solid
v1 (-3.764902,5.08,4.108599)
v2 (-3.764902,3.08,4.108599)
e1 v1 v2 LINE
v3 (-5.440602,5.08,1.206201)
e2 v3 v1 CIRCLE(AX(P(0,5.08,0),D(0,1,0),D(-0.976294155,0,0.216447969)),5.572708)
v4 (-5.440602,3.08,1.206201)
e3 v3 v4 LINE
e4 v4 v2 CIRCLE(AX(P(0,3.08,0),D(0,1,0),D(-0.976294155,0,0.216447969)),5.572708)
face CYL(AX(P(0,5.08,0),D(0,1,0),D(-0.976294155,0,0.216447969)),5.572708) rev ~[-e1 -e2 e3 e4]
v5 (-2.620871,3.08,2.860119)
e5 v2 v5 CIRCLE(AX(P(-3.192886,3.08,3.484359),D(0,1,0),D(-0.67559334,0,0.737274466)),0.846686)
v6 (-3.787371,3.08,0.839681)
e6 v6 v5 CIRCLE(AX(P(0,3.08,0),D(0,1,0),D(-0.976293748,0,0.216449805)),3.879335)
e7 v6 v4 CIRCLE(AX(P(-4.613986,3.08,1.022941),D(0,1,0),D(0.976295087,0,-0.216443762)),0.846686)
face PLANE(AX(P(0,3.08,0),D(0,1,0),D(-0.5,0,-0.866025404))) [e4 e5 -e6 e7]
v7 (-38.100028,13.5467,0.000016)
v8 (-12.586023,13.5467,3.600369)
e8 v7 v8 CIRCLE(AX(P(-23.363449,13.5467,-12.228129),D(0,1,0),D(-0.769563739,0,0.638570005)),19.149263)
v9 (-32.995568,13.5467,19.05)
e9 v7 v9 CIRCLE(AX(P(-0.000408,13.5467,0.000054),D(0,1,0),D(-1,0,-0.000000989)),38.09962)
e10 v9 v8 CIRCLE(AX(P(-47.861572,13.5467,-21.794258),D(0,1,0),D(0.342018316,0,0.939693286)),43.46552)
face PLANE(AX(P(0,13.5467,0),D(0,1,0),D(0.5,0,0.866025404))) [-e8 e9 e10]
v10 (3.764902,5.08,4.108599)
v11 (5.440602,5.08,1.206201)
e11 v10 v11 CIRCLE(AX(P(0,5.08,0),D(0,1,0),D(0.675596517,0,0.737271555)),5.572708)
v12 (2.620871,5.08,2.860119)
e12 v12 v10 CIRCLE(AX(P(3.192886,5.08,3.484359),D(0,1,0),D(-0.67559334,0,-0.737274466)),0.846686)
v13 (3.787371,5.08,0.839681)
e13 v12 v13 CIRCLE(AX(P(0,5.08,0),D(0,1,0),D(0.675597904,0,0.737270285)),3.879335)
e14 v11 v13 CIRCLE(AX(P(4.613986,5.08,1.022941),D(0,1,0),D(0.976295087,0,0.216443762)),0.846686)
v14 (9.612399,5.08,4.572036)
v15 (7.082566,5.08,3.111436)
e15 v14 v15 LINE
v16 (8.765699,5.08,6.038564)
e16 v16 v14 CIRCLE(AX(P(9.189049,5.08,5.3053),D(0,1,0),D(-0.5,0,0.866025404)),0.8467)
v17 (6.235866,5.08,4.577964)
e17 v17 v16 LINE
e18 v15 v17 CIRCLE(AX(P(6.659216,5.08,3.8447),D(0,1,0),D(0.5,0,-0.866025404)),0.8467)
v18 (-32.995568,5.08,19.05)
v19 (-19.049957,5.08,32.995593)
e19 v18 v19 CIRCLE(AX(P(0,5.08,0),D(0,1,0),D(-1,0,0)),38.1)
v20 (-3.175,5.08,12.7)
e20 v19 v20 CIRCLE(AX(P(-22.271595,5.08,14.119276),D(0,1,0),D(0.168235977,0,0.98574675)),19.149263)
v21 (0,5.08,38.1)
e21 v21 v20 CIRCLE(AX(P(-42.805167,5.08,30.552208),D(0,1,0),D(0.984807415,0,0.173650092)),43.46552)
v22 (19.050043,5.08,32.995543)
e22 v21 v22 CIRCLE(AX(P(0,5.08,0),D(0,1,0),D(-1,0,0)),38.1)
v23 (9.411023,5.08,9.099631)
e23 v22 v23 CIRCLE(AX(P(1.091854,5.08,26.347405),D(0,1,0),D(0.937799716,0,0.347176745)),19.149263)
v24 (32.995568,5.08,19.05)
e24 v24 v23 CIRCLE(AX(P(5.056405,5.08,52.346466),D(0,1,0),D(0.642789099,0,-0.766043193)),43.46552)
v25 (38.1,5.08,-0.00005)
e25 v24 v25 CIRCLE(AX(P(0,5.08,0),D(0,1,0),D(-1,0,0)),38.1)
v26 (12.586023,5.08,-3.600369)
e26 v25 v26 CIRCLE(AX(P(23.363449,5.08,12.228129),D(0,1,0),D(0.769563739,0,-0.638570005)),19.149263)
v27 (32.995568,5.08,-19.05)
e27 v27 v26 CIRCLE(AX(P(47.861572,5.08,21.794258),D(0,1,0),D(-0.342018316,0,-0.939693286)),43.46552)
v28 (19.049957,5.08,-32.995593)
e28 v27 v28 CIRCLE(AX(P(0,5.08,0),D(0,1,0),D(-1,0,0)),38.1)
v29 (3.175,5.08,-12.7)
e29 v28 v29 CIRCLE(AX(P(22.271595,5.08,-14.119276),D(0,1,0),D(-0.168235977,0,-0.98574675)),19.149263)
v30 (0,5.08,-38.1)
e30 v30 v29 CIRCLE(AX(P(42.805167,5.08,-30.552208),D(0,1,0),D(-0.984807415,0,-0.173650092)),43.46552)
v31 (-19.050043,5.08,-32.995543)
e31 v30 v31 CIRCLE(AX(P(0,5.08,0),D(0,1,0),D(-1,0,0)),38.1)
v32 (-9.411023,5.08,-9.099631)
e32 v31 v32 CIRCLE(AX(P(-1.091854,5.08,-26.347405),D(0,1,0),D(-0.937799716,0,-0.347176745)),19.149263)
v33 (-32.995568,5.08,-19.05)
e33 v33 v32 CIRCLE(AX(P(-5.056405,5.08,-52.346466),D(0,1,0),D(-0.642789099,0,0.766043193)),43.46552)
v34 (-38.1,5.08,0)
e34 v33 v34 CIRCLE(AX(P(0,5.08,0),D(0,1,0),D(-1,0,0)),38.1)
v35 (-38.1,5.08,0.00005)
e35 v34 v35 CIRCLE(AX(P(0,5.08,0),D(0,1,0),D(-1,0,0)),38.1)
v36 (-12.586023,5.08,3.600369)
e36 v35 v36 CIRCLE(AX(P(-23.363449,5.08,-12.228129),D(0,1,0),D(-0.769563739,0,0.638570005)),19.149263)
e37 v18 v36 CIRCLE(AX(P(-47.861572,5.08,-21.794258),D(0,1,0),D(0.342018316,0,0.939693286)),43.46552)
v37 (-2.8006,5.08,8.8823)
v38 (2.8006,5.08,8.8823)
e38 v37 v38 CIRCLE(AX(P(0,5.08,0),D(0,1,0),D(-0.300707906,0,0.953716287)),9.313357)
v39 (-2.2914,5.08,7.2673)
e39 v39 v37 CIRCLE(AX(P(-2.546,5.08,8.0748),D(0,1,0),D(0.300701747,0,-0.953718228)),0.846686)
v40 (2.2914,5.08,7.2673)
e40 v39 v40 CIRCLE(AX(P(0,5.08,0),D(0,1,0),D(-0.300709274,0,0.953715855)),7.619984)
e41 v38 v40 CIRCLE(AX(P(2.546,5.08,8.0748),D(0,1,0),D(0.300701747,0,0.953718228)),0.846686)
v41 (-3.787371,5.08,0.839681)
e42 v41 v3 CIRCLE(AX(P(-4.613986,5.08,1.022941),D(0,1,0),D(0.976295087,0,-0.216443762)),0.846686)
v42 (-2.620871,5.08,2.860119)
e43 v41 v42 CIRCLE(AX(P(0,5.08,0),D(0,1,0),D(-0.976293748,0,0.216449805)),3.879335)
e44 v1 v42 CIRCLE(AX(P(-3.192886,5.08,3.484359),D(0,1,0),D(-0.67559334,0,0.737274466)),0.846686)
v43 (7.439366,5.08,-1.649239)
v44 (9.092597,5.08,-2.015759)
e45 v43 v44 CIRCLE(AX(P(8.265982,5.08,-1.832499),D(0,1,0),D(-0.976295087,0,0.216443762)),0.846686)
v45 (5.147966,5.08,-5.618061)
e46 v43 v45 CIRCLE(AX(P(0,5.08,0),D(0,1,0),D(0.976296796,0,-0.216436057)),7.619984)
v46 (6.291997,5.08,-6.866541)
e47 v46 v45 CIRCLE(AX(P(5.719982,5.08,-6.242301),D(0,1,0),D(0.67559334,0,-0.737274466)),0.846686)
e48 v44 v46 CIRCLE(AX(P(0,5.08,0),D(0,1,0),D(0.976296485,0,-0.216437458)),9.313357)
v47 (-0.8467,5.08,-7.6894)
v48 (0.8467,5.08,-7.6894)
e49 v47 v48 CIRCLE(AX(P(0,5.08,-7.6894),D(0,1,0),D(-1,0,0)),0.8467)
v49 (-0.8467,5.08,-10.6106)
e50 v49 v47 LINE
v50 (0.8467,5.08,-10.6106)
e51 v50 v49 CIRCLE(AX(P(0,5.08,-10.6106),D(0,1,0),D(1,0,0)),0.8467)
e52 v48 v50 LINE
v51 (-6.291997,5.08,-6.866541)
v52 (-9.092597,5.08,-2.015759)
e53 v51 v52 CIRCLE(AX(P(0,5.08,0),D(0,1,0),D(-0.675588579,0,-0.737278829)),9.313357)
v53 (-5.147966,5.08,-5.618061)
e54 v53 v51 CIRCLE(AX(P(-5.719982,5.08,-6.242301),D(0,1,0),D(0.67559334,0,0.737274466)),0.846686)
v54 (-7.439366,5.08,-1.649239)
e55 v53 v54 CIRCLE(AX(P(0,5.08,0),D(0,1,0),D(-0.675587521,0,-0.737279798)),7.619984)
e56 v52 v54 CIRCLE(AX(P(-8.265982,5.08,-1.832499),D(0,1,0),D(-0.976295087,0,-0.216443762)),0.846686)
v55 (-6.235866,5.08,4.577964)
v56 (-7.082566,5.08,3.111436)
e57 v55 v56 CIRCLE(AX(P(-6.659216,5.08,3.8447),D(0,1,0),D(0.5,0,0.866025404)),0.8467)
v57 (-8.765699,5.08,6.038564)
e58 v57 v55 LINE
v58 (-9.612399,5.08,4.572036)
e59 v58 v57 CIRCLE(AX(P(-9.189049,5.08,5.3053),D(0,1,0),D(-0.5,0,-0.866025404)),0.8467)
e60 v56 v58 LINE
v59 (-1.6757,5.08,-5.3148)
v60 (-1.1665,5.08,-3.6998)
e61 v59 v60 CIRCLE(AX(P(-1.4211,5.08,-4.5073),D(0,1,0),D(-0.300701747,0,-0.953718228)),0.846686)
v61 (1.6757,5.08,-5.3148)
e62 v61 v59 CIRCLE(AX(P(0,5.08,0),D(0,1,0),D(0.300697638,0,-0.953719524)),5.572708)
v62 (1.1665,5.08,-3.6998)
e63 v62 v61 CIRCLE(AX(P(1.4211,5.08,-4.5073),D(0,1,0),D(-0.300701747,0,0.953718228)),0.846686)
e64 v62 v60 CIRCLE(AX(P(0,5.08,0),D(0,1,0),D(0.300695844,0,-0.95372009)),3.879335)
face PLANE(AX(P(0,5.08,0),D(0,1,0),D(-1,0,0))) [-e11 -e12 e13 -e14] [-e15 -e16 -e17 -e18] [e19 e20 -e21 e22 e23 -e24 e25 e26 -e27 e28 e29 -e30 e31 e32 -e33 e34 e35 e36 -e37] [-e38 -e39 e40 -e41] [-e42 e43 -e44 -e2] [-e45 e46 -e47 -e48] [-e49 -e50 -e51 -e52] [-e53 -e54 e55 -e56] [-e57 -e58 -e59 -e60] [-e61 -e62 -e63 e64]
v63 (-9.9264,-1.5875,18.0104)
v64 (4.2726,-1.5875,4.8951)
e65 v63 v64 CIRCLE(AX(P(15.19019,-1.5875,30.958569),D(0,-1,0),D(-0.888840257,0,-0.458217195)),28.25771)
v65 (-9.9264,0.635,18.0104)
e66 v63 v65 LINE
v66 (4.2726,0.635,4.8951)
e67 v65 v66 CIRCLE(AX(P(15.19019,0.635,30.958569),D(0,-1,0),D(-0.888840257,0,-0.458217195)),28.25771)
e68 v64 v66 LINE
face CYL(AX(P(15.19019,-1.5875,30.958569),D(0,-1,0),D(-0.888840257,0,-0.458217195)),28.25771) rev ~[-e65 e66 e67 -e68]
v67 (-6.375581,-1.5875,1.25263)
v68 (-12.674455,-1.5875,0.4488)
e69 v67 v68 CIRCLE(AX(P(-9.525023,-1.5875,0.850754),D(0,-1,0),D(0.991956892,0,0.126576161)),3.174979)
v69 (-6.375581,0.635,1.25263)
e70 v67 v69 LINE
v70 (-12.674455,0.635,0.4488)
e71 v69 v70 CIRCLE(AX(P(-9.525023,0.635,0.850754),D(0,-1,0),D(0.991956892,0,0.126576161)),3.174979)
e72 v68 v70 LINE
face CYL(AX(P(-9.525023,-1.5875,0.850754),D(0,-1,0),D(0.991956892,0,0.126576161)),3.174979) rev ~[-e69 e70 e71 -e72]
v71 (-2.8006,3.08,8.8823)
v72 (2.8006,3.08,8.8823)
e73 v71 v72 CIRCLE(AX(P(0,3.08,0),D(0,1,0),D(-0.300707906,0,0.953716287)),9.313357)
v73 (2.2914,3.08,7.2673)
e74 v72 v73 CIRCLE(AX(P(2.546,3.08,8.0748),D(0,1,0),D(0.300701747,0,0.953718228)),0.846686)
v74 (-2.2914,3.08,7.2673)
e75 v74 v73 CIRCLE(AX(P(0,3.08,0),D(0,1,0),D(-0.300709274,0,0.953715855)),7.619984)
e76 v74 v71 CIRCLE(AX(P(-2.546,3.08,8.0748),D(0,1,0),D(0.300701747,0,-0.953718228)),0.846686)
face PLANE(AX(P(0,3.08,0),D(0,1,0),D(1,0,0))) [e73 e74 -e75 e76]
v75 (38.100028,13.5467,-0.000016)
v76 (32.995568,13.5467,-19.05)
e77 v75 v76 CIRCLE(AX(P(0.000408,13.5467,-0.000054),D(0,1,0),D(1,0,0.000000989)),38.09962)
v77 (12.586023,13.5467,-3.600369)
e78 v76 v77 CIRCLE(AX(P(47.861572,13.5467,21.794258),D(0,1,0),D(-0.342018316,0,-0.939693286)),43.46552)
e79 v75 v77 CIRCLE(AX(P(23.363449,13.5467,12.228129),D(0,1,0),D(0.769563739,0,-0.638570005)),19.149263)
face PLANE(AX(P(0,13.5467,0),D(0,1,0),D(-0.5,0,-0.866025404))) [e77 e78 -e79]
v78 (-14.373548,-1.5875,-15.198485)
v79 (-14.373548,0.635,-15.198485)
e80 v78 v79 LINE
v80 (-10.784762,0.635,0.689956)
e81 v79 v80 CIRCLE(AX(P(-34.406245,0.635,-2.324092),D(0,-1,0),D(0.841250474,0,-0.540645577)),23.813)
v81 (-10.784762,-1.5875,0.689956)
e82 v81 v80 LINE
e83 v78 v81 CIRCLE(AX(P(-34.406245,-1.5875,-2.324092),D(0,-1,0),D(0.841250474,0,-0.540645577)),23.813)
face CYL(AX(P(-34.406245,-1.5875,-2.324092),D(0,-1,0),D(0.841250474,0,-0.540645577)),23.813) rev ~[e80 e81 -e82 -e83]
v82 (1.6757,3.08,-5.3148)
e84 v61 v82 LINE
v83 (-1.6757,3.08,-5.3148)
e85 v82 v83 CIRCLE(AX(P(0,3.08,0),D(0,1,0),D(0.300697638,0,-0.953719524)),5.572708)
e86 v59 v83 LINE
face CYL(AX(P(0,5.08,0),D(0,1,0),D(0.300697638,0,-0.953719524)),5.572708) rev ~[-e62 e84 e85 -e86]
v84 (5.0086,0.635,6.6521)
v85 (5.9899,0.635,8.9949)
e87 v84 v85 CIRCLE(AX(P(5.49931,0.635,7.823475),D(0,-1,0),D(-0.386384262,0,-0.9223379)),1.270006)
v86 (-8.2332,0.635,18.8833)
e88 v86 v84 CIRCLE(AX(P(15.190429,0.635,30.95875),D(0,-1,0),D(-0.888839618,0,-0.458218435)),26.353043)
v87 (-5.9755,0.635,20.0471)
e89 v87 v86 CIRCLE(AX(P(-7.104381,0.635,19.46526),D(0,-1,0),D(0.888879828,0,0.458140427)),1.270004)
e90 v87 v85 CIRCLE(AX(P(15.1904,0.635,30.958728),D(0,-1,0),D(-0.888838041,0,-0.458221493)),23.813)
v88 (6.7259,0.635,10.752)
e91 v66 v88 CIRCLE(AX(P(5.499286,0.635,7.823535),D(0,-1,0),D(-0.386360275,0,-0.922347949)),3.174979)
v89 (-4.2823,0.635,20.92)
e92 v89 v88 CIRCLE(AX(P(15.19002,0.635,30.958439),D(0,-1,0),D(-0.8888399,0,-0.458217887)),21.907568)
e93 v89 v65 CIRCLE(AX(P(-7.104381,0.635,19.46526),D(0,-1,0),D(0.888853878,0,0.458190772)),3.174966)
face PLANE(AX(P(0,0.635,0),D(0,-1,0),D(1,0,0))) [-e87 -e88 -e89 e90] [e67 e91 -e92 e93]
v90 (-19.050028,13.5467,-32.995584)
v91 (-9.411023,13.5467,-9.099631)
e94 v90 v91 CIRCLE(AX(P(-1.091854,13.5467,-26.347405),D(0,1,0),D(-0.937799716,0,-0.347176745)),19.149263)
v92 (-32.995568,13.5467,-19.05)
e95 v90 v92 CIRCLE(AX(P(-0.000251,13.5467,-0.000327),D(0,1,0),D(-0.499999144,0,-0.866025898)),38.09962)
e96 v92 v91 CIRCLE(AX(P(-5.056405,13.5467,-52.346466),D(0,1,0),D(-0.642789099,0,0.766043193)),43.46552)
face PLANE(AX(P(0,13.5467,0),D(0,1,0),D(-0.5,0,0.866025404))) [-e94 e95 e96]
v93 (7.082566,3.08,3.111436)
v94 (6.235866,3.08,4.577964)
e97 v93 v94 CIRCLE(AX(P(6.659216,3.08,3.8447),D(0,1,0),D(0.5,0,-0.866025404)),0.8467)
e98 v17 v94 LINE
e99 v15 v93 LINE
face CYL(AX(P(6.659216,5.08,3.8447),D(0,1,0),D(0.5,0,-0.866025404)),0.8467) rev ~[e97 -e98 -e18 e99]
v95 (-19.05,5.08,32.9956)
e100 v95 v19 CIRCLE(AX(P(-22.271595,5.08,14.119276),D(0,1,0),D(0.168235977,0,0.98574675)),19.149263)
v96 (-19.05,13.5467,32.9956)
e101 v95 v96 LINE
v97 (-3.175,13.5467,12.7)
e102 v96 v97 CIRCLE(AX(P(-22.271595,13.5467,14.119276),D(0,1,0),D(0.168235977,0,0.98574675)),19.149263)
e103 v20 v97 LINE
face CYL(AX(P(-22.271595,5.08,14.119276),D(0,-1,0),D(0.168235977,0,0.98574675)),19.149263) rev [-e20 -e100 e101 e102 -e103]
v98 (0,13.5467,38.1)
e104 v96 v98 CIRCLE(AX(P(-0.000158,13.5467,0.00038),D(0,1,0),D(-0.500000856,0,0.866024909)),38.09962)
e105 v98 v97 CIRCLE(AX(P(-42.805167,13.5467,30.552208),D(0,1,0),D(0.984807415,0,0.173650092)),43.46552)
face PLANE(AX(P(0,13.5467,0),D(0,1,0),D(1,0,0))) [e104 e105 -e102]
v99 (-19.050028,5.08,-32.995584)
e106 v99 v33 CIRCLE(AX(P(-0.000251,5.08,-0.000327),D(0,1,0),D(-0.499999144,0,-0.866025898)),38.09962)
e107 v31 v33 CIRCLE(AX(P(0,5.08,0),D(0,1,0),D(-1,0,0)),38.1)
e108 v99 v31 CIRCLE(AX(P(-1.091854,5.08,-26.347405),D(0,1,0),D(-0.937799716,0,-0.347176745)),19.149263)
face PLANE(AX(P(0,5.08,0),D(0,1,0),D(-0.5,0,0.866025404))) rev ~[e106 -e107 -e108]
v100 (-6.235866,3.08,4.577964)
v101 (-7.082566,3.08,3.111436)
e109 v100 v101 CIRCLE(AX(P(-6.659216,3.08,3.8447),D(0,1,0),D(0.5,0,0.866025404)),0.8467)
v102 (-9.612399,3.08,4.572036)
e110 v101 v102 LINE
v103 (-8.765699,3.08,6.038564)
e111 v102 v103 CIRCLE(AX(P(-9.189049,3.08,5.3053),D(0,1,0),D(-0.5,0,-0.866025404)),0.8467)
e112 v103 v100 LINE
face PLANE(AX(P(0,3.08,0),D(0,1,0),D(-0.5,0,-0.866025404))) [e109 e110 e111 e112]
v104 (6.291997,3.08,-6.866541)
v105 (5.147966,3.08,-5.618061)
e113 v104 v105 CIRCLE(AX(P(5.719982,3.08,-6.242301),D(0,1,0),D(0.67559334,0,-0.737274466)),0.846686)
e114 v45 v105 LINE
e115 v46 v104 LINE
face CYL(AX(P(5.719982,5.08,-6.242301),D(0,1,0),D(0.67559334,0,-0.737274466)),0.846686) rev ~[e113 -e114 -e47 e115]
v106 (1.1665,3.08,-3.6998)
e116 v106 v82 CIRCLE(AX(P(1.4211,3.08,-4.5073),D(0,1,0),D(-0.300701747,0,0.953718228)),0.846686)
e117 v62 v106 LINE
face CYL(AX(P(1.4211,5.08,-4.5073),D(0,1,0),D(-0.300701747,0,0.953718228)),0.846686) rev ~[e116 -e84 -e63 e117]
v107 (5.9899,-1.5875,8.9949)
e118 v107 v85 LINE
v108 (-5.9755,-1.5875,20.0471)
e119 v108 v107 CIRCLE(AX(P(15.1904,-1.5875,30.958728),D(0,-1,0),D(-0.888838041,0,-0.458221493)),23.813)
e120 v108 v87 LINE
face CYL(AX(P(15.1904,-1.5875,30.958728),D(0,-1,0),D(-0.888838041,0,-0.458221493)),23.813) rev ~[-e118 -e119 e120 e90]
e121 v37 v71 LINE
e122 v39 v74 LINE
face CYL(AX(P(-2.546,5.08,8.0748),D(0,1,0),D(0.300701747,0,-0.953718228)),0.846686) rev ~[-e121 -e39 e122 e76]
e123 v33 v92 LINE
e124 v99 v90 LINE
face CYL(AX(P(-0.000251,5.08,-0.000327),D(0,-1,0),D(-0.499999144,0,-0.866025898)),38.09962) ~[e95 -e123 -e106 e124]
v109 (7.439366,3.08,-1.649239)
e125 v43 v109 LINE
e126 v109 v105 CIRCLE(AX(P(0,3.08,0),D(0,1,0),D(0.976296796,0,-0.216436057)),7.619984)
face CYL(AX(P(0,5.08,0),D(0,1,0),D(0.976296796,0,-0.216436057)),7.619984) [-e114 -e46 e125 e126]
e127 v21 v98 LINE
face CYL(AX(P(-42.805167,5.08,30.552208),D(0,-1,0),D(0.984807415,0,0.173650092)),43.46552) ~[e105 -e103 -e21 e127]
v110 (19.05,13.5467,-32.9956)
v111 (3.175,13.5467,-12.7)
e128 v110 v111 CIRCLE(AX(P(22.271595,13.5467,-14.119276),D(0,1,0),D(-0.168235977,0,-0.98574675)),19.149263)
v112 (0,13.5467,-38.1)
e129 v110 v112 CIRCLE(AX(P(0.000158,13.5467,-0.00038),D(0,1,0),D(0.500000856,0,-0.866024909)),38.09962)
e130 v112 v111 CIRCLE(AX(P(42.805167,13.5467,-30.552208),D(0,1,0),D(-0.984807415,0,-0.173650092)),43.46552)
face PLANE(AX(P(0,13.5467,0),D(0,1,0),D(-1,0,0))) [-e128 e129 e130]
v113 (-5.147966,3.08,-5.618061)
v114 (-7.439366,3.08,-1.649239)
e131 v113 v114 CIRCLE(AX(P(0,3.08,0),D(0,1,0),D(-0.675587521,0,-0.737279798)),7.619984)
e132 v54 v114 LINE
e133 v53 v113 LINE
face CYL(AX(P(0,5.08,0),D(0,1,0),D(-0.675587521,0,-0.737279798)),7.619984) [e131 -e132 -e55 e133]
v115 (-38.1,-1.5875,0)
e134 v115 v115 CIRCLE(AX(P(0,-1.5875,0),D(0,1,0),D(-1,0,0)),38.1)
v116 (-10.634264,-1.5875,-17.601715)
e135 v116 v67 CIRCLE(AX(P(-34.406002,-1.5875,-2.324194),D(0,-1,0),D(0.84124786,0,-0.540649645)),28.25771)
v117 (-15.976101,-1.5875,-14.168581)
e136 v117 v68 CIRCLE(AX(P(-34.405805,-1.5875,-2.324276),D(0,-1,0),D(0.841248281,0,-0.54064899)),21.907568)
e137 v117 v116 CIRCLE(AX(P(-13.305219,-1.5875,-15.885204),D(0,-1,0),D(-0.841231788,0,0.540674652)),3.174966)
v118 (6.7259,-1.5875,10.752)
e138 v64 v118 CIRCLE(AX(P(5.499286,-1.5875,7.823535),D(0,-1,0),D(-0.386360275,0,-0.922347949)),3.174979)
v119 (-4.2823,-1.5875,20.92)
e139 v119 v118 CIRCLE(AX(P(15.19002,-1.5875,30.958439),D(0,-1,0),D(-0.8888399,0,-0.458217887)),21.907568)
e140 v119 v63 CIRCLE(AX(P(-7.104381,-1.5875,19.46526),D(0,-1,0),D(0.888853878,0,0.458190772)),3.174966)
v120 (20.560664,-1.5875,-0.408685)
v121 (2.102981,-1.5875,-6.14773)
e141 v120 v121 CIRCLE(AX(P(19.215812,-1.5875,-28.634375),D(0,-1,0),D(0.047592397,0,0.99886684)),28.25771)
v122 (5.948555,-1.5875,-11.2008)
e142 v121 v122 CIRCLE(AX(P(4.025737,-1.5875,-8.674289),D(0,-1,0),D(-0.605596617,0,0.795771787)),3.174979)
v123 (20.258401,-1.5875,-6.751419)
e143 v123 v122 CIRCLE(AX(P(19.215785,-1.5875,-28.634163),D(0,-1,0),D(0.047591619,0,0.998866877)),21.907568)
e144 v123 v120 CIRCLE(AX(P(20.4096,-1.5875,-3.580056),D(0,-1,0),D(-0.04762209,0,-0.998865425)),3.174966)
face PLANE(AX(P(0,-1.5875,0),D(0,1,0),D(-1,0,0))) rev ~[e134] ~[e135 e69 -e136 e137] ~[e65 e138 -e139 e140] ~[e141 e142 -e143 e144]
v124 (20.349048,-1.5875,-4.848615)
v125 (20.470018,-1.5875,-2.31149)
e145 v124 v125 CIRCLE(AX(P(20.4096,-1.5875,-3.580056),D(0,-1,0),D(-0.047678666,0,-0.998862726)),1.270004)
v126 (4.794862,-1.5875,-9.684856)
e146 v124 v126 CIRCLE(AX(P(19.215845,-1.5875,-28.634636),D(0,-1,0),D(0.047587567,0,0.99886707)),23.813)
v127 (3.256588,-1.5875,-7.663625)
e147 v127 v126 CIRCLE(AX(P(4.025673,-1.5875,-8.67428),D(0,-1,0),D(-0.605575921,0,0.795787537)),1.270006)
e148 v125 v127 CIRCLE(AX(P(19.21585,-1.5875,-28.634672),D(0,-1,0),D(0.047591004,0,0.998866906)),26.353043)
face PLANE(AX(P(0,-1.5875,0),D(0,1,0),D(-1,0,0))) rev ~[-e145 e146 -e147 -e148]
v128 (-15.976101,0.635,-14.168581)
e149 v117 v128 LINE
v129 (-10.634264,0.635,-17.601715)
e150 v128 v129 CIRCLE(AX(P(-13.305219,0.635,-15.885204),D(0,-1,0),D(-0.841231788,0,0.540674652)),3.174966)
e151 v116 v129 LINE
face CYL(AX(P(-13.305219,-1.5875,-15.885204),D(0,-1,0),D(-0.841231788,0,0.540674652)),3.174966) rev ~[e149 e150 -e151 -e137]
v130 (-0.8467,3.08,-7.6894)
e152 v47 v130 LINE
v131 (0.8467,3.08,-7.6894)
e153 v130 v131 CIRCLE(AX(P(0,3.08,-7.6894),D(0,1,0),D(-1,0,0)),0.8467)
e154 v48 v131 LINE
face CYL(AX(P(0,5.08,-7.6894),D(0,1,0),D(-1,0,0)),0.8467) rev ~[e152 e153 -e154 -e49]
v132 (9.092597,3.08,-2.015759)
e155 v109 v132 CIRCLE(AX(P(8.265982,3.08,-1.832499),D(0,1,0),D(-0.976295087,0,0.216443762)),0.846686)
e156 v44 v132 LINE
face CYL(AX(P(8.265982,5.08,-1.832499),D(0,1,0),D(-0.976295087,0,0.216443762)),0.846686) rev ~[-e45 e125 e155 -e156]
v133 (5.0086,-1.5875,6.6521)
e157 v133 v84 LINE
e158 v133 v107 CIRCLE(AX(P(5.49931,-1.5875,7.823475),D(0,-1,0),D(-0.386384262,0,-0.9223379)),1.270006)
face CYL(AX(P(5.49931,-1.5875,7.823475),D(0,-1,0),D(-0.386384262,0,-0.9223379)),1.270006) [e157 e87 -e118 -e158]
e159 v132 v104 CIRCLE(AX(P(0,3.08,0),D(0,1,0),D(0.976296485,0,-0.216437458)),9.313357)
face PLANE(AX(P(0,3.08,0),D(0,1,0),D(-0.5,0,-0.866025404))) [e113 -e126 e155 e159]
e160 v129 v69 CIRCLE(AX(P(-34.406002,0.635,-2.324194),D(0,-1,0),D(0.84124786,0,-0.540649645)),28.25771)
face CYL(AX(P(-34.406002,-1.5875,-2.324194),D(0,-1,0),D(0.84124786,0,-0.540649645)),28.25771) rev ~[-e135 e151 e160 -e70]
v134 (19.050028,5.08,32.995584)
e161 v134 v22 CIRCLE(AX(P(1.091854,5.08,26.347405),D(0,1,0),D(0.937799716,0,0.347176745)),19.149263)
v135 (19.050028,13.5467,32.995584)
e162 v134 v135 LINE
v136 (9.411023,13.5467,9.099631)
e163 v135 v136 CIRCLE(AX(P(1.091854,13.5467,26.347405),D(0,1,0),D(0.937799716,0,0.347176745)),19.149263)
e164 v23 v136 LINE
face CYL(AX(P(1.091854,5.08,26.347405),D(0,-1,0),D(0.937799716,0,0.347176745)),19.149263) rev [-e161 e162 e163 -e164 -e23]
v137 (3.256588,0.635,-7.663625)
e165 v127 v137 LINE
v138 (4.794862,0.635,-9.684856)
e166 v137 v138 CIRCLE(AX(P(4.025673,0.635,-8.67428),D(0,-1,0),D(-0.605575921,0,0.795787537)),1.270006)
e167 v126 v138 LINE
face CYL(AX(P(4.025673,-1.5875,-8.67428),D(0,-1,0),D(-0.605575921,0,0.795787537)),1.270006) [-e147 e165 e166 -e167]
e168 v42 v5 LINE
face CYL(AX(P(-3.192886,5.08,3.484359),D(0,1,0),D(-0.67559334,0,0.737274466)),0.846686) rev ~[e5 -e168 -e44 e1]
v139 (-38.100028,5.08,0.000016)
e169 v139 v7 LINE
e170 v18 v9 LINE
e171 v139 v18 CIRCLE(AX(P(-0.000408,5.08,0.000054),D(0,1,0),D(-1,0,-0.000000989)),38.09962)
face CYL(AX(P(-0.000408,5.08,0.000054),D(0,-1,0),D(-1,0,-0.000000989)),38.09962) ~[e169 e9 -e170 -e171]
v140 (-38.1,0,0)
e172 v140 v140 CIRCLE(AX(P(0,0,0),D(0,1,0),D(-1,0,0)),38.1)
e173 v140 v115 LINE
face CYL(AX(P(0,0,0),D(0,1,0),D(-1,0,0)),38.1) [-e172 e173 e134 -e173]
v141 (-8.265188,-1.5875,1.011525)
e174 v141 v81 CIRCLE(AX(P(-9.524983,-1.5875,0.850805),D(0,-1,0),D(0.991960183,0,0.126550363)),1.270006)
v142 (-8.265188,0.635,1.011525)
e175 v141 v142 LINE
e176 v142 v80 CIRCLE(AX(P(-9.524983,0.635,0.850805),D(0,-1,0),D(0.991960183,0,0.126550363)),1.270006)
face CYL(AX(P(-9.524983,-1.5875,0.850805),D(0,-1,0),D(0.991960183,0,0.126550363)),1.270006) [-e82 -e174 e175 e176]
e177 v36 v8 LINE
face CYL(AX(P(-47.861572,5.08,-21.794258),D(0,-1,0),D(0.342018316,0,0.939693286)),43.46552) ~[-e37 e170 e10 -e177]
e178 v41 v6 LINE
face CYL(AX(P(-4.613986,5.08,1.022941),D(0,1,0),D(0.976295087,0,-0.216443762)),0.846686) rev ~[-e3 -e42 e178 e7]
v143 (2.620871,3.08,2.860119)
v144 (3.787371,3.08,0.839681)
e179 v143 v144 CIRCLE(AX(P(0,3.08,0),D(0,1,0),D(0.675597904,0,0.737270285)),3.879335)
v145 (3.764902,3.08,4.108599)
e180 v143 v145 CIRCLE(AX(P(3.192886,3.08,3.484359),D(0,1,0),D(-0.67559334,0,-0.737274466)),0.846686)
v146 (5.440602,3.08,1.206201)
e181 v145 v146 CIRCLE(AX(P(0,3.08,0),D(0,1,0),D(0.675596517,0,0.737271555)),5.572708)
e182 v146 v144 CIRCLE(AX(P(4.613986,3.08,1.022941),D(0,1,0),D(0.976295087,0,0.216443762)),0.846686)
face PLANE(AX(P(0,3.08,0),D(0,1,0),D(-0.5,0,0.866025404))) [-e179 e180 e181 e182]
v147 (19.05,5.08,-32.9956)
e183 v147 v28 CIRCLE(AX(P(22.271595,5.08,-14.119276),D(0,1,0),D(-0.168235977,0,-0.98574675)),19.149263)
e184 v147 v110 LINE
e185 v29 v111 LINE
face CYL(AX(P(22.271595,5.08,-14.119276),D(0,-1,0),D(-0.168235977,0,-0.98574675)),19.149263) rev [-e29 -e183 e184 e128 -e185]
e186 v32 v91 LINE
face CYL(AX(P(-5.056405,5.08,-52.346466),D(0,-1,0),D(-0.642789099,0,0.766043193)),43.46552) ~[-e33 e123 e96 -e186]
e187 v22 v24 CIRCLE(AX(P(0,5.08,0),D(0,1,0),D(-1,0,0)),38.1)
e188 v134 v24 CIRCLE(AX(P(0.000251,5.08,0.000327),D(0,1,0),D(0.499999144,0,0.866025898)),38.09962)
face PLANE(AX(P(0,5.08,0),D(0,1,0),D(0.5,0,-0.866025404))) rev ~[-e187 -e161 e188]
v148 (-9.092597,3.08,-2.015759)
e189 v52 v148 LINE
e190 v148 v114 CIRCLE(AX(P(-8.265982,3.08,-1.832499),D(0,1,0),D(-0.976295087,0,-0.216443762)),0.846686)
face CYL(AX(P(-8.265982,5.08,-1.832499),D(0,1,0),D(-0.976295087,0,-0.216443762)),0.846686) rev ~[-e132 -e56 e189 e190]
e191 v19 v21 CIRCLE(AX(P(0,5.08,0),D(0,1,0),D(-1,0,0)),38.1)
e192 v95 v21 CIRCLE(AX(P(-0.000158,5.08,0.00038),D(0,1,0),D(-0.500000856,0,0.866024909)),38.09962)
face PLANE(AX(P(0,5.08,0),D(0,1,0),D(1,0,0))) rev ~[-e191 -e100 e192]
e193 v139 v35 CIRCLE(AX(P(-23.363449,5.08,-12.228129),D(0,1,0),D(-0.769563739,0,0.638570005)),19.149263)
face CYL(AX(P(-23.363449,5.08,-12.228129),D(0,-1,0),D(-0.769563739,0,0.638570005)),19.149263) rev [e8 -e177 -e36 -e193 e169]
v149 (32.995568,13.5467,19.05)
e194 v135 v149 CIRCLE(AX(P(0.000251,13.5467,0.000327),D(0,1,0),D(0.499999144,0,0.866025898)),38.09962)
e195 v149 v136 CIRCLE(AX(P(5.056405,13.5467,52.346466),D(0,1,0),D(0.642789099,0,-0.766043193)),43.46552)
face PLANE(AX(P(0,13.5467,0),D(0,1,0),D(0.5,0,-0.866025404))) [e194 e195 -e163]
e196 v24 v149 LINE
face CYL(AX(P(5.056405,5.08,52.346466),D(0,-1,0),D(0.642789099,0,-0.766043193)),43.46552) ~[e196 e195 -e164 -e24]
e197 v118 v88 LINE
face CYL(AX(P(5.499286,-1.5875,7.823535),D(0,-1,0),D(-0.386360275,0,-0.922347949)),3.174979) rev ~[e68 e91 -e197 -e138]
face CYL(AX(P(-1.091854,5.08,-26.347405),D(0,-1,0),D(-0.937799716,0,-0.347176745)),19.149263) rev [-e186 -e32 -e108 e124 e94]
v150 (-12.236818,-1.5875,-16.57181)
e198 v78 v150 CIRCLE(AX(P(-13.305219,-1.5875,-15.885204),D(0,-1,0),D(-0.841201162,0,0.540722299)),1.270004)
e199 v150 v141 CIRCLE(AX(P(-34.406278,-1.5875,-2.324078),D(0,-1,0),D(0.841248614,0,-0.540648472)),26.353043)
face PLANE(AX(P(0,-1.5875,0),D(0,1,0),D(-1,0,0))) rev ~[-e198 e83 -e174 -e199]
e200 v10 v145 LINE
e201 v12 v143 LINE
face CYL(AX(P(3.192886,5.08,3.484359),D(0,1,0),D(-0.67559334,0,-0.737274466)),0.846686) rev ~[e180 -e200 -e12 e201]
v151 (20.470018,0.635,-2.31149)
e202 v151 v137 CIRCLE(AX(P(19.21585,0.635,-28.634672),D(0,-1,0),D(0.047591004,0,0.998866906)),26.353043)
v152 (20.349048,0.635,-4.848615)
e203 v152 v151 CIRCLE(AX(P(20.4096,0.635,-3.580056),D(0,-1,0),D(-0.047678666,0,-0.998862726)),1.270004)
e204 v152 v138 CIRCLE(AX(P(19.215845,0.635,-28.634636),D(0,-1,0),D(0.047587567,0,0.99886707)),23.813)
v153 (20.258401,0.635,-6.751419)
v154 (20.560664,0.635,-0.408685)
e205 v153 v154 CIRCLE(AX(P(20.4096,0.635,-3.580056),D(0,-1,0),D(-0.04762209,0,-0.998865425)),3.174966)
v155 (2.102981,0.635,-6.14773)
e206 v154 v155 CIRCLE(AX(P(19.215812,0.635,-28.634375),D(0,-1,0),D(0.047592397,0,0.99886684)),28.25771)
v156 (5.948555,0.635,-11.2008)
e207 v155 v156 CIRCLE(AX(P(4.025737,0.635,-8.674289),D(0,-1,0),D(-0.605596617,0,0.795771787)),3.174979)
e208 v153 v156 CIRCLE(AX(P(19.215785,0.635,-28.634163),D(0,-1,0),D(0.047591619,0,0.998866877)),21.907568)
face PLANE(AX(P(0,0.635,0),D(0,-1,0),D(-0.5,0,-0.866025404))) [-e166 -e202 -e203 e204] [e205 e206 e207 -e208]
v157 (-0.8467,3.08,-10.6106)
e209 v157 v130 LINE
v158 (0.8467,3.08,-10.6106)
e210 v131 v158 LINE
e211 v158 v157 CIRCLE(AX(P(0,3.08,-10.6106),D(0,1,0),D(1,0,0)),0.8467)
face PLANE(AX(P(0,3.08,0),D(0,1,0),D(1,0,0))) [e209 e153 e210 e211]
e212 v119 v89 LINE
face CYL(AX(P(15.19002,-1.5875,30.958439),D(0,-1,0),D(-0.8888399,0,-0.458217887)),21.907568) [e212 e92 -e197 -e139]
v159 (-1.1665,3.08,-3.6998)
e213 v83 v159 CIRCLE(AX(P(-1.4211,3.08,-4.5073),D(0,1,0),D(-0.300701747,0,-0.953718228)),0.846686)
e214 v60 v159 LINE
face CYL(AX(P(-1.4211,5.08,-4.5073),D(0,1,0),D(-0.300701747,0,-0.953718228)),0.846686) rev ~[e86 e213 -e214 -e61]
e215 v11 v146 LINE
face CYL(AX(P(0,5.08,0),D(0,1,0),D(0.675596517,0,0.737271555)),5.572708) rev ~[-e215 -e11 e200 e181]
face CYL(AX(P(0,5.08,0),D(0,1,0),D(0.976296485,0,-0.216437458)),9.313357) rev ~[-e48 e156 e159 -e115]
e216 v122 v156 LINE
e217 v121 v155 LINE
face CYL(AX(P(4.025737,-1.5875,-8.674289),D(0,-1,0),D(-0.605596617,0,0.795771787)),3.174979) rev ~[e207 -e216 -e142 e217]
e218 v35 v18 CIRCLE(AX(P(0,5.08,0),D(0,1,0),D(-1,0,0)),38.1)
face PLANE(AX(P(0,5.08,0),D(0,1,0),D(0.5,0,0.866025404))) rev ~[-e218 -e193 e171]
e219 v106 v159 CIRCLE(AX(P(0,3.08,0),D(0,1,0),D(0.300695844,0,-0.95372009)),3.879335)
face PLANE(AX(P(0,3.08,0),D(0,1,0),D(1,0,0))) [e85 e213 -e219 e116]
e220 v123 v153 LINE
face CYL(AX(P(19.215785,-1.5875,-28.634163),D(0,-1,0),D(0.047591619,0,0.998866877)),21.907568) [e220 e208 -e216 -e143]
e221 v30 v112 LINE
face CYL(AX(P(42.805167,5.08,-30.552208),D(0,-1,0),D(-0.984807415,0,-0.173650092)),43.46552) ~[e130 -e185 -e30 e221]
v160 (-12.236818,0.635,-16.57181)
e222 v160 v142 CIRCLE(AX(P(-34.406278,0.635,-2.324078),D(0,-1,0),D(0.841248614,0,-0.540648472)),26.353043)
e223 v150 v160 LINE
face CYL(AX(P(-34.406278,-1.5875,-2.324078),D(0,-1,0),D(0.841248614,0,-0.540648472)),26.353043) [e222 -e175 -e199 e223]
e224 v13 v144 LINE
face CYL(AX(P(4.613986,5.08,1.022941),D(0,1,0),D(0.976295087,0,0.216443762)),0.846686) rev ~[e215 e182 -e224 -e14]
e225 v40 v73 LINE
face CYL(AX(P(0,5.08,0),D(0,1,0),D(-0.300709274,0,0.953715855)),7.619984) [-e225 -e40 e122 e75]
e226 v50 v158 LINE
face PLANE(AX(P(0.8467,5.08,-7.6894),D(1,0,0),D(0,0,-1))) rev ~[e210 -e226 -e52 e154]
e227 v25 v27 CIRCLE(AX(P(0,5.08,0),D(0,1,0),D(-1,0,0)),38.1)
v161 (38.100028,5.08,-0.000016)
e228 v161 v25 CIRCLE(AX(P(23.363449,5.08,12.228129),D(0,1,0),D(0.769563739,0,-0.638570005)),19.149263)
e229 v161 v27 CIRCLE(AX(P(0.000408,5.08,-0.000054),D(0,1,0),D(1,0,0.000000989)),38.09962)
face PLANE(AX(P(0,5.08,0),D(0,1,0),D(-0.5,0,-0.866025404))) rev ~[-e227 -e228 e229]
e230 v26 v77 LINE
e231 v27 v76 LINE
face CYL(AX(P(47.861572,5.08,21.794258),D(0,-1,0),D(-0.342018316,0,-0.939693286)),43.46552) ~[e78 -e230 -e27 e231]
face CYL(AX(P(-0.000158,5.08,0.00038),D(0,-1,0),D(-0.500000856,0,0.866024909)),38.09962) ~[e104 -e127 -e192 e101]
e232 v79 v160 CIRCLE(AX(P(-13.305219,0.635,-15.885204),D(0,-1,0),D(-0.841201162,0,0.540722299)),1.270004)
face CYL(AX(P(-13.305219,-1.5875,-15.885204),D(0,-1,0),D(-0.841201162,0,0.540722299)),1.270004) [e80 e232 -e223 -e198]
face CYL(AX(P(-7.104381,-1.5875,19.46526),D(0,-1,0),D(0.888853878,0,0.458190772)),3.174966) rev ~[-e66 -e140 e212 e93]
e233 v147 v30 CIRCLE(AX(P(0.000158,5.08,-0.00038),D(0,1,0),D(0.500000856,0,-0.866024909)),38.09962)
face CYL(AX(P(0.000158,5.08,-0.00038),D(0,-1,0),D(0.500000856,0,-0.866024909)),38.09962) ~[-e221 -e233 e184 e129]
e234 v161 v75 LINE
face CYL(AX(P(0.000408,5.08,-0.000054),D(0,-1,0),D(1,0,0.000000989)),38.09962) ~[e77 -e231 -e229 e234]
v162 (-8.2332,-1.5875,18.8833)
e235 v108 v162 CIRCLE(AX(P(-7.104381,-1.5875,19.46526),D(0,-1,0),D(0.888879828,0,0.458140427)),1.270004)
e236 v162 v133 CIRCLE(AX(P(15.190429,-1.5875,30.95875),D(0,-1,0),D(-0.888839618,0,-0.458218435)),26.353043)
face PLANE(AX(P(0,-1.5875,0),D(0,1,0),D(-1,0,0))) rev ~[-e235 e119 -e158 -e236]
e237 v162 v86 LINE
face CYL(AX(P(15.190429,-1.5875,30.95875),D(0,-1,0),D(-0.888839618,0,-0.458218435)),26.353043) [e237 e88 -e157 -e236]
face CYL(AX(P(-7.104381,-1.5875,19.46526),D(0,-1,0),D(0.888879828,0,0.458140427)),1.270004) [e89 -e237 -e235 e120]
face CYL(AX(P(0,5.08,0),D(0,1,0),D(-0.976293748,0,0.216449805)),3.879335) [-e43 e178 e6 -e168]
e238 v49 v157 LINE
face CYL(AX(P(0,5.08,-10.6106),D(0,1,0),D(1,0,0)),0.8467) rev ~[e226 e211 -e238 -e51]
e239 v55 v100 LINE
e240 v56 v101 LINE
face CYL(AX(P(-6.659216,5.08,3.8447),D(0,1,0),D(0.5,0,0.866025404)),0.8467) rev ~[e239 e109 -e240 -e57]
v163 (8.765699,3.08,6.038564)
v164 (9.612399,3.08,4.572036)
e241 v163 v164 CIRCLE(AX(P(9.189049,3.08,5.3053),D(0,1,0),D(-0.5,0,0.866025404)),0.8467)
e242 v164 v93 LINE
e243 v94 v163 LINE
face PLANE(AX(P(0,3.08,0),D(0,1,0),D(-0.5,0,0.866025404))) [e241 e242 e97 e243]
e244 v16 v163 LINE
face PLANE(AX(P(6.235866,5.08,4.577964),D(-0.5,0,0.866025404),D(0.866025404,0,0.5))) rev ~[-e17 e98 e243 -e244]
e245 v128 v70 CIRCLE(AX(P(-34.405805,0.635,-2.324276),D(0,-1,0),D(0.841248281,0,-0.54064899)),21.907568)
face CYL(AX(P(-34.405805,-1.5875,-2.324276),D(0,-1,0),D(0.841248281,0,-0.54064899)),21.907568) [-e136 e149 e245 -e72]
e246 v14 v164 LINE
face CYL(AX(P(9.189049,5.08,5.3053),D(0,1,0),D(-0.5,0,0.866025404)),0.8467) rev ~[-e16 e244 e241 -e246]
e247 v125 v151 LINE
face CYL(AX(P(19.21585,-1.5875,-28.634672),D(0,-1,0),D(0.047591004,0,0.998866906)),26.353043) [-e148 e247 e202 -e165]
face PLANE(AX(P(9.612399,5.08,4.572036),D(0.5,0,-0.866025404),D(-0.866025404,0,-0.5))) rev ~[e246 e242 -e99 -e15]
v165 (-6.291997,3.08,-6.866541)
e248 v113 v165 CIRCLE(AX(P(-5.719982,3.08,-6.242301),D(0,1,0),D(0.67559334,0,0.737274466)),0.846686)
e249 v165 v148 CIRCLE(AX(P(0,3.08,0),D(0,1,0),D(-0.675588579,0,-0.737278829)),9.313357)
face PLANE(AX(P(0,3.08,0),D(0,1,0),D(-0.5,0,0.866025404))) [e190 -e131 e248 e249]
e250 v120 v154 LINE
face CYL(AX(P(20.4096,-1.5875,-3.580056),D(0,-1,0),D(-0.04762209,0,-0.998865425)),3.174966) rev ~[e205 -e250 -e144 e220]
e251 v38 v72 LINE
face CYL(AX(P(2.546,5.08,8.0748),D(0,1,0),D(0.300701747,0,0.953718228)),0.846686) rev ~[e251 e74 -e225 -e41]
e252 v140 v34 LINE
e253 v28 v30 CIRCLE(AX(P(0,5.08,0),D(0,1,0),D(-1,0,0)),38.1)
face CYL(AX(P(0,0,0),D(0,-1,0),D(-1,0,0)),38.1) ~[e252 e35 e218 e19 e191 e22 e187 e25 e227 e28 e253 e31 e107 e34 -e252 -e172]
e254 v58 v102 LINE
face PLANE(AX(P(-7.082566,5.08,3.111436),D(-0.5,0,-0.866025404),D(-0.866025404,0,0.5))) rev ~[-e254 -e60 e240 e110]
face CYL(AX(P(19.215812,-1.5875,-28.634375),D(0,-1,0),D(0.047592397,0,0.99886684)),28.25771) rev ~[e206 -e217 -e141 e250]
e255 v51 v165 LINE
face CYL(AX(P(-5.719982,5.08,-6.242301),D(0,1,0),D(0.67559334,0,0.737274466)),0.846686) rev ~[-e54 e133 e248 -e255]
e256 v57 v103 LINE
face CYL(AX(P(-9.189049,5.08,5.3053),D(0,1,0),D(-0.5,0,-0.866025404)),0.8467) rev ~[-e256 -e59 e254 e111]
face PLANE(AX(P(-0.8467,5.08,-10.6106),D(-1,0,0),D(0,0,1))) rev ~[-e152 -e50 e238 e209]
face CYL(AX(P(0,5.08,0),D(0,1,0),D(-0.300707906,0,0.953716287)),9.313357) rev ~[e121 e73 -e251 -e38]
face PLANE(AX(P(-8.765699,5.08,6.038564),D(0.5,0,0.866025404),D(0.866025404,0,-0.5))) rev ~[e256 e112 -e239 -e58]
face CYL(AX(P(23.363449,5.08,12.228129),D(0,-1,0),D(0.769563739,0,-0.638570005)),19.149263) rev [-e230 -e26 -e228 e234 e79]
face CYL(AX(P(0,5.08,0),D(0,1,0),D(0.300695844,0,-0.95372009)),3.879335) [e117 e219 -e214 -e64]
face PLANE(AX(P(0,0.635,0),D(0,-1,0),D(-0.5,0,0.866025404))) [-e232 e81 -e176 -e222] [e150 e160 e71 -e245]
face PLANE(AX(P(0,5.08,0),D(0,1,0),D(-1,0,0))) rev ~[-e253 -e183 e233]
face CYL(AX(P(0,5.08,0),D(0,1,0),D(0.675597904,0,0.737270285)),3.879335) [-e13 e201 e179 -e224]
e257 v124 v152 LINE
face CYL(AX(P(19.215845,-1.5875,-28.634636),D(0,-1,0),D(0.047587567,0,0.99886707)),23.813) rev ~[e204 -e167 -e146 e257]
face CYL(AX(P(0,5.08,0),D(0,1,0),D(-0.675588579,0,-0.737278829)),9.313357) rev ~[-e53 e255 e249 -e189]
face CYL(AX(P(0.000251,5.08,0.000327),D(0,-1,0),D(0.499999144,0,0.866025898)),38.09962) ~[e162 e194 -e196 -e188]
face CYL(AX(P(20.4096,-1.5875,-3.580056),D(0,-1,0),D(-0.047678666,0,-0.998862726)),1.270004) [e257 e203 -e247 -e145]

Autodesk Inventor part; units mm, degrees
ref_plane "YZ Plane" through (0, 0, 0) normal (1, 0, 0) x (0, 1, 0)
ref_plane "XZ Plane" through (0, 0, 0) normal (0, 1, 0) x (-1, 0, 0)
ref_plane "XY Plane" through (0, 0, 0) normal (0, 0, 1) x (1, 0, 0)
sketch "Sketch1" plane through (0, 0, 0) normal (0, 1, 0) x (-1, 0, 0)
  circle A0 centre (0, 0) radius 38.1
  dimension "d0" = 76.2
extrude "Extrusion1" add sketch "Sketch1" along normal blind 5.08 and the other way blind 1.5875
sketch "Sketch2" plane through (0, 5.08, 0) normal (0, 1, 0) x (1, 0, 0)
  circle A0 centre (0, 0) radius 38.1 construction
  circle A1 centre (0, 0) radius 38.1 construction
  line L0 (0, 0) -> (0, -38.1) construction
  arc A2 (-19.05, -32.9956) -> (0, -38.1) centre (0, 0) ccw
  arc A3 (-19.05, -32.9956) -> (-3.175, -12.7) centre (-22.2717, -14.1191) ccw
  arc A4 (0, -38.1) -> (-3.175, -12.7) centre (-42.8055, -30.5522) ccw
  line L1 (-3.175, -12.7) -> (-8.0548, -1.8672) construction
  line L2 (-3.175, -12.7) -> (-3.5133, -8.1478) construction
  line L3 (0, -38.1) -> (-0.6729, -41.9165) construction
  dimension "d22" = 30
  dimension "d27" = 3.175
  dimension "d28" = 12.7
  dimension "d29" = 20
  dimension "d30" = 10
extrude "Extrusion2" add sketch "Sketch2" along normal blind 8.4667
pattern_circular "Circular Pattern3" count 6 over 360 about axis through (0, 0, 0) along (0, 1, 0) of "Extrusion2"
sketch "Sketch5" plane through (0, -1.5875, 0) normal (0, -1, 0) x (1, 0, 0)
  line L0 (-9.525, -5.4993) -> (0, 10.9985) construction
  line L1 (0, 10.9985) -> (9.525, -5.4993) construction
  line L2 (9.525, -5.4993) -> (-9.525, -5.4993) construction
  line L3 (0, 0) -> (0, 10.9985) construction
  arc A0 (-7.1044, 19.4652) -> (5.4993, 7.8235) centre (15.1901, 30.9585) ccw construction
  arc A1 (-9.9264, 18.0104) -> (4.2726, 4.8951) centre (15.1901, 30.9585) ccw
  arc A2 (-4.2823, 20.92) -> (6.7259, 10.752) centre (15.1901, 30.9585) ccw
  arc A3 (-4.2823, 20.92) -> (-9.9264, 18.0104) centre (-7.1044, 19.4652) ccw
  arc A4 (4.2726, 4.8951) -> (6.7259, 10.752) centre (5.4993, 7.8235) ccw
  arc A5 (-7.1044, 19.4652) -> (5.4993, 7.8235) centre (15.1901, 30.9585) ccw construction
  arc A6 (-8.2332, 18.8833) -> (5.0086, 6.6521) centre (15.1901, 30.9585) ccw
  arc A7 (-5.9755, 20.0471) -> (5.9899, 8.9949) centre (15.1901, 30.9585) ccw
  arc A8 (-5.9755, 20.0471) -> (-8.2332, 18.8833) centre (-7.1044, 19.4652) ccw
  arc A9 (5.0086, 6.6521) -> (5.9899, 8.9949) centre (5.4993, 7.8235) ccw
  dimension "d41" = 19.05
  dimension "d45" = 6.35
  dimension "d46" = 30
  dimension "d47" = 110
  dimension "d48" = 2.54
  dimension "d49" = 3.175
  dimension "d50" = 8.4667
extrude "Extrusion3" cut sketch "Sketch5" against normal blind 2.2225
pattern_circular "Circular Pattern4" count 3 over 360 about axis through (0, 0, 0) along (0, 1, 0) of "Extrusion3"
sketch "Sketch8" plane through (0, 5.08, 0) normal (0, 1, 0) x (1, 0, 0)
  arc A0 (32.9956, -19.05) -> (38.1, 0) centre (0, 0) ccw projected
  line L0 (38.1, 0) -> (-38.1, 0)
ref_plane "Work Plane1" through (0, 5.08, 0) normal (-1, 0, 0) x (0, -1, 0)
sketch "Sketch9" plane through (0, 5.08, 0) normal (0, 1, 0) x (1, 0, 0)
  arc A0 (-2.546, -8.0748) -> (2.546, -8.0748) centre (0, 0) ccw construction
  arc A1 (-2.8006, -8.8823) -> (2.8006, -8.8823) centre (0, 0) ccw
  arc A2 (-2.2914, -7.2673) -> (2.2914, -7.2673) centre (0, 0) ccw
  arc A3 (-2.2914, -7.2673) -> (-2.8006, -8.8823) centre (-2.546, -8.0748) ccw
  arc A4 (2.8006, -8.8823) -> (2.2914, -7.2673) centre (2.546, -8.0748) ccw
  line L0 (0, 0) -> (-2.546, -8.0748) construction
  line L1 (0, 0) -> (2.546, -8.0748) construction
  arc A5 (1.1665, 3.6998) -> (1.6757, 5.3148) centre (1.4211, 4.5073) ccw
  arc A6 (1.6757, 5.3148) -> (-1.6757, 5.3148) centre (0, 0) ccw
  arc A7 (-1.6757, 5.3148) -> (-1.1665, 3.6998) centre (-1.4211, 4.5073) ccw
  arc A8 (1.1665, 3.6998) -> (-1.1665, 3.6998) centre (0, 0) ccw
  arc A9 (0.8467, 10.6106) -> (-0.8467, 10.6106) centre (0, 10.6106) ccw
  line L2 (-0.8467, 10.6106) -> (-0.8467, 7.6894)
  arc A10 (-0.8467, 7.6894) -> (0.8467, 7.6894) centre (0, 7.6894) ccw
  line L3 (0.8467, 7.6894) -> (0.8467, 10.6106)
  circle A11 centre (0, 0) radius 12.7273
  line L4 (-1.4211, 4.5073) -> (1.4211, 4.5073) construction
  point P0 (0, -8.4667)
  point P1 (0, 4.5073)
  dimension "d55" = 35
  dimension "d57" = 8.4667
  dimension "d58" = 0.8467
  dimension "d59" = 35
  dimension "d60" = 0.8467
  dimension "d61" = 4.726
  dimension "d62" = 25.4546
  dimension "d63" = 1.27
  dimension "d64" = 1.6933
  dimension "d65" = 0.8467
  dimension "d66" = 1.27
  dimension "d67" = 1.6933
extrude "Extrusion5" cut sketch "Sketch9" against normal blind 2 contours A3 A2 A4 A1 | A8 A7 A6 A5 | L3 A10 L2 A9
pattern_circular "Circular Pattern5" count 3 over 360 about axis through (0, 0, 0) along (0, 1, 0) of "Extrusion5"
properties part number "Impeller"
